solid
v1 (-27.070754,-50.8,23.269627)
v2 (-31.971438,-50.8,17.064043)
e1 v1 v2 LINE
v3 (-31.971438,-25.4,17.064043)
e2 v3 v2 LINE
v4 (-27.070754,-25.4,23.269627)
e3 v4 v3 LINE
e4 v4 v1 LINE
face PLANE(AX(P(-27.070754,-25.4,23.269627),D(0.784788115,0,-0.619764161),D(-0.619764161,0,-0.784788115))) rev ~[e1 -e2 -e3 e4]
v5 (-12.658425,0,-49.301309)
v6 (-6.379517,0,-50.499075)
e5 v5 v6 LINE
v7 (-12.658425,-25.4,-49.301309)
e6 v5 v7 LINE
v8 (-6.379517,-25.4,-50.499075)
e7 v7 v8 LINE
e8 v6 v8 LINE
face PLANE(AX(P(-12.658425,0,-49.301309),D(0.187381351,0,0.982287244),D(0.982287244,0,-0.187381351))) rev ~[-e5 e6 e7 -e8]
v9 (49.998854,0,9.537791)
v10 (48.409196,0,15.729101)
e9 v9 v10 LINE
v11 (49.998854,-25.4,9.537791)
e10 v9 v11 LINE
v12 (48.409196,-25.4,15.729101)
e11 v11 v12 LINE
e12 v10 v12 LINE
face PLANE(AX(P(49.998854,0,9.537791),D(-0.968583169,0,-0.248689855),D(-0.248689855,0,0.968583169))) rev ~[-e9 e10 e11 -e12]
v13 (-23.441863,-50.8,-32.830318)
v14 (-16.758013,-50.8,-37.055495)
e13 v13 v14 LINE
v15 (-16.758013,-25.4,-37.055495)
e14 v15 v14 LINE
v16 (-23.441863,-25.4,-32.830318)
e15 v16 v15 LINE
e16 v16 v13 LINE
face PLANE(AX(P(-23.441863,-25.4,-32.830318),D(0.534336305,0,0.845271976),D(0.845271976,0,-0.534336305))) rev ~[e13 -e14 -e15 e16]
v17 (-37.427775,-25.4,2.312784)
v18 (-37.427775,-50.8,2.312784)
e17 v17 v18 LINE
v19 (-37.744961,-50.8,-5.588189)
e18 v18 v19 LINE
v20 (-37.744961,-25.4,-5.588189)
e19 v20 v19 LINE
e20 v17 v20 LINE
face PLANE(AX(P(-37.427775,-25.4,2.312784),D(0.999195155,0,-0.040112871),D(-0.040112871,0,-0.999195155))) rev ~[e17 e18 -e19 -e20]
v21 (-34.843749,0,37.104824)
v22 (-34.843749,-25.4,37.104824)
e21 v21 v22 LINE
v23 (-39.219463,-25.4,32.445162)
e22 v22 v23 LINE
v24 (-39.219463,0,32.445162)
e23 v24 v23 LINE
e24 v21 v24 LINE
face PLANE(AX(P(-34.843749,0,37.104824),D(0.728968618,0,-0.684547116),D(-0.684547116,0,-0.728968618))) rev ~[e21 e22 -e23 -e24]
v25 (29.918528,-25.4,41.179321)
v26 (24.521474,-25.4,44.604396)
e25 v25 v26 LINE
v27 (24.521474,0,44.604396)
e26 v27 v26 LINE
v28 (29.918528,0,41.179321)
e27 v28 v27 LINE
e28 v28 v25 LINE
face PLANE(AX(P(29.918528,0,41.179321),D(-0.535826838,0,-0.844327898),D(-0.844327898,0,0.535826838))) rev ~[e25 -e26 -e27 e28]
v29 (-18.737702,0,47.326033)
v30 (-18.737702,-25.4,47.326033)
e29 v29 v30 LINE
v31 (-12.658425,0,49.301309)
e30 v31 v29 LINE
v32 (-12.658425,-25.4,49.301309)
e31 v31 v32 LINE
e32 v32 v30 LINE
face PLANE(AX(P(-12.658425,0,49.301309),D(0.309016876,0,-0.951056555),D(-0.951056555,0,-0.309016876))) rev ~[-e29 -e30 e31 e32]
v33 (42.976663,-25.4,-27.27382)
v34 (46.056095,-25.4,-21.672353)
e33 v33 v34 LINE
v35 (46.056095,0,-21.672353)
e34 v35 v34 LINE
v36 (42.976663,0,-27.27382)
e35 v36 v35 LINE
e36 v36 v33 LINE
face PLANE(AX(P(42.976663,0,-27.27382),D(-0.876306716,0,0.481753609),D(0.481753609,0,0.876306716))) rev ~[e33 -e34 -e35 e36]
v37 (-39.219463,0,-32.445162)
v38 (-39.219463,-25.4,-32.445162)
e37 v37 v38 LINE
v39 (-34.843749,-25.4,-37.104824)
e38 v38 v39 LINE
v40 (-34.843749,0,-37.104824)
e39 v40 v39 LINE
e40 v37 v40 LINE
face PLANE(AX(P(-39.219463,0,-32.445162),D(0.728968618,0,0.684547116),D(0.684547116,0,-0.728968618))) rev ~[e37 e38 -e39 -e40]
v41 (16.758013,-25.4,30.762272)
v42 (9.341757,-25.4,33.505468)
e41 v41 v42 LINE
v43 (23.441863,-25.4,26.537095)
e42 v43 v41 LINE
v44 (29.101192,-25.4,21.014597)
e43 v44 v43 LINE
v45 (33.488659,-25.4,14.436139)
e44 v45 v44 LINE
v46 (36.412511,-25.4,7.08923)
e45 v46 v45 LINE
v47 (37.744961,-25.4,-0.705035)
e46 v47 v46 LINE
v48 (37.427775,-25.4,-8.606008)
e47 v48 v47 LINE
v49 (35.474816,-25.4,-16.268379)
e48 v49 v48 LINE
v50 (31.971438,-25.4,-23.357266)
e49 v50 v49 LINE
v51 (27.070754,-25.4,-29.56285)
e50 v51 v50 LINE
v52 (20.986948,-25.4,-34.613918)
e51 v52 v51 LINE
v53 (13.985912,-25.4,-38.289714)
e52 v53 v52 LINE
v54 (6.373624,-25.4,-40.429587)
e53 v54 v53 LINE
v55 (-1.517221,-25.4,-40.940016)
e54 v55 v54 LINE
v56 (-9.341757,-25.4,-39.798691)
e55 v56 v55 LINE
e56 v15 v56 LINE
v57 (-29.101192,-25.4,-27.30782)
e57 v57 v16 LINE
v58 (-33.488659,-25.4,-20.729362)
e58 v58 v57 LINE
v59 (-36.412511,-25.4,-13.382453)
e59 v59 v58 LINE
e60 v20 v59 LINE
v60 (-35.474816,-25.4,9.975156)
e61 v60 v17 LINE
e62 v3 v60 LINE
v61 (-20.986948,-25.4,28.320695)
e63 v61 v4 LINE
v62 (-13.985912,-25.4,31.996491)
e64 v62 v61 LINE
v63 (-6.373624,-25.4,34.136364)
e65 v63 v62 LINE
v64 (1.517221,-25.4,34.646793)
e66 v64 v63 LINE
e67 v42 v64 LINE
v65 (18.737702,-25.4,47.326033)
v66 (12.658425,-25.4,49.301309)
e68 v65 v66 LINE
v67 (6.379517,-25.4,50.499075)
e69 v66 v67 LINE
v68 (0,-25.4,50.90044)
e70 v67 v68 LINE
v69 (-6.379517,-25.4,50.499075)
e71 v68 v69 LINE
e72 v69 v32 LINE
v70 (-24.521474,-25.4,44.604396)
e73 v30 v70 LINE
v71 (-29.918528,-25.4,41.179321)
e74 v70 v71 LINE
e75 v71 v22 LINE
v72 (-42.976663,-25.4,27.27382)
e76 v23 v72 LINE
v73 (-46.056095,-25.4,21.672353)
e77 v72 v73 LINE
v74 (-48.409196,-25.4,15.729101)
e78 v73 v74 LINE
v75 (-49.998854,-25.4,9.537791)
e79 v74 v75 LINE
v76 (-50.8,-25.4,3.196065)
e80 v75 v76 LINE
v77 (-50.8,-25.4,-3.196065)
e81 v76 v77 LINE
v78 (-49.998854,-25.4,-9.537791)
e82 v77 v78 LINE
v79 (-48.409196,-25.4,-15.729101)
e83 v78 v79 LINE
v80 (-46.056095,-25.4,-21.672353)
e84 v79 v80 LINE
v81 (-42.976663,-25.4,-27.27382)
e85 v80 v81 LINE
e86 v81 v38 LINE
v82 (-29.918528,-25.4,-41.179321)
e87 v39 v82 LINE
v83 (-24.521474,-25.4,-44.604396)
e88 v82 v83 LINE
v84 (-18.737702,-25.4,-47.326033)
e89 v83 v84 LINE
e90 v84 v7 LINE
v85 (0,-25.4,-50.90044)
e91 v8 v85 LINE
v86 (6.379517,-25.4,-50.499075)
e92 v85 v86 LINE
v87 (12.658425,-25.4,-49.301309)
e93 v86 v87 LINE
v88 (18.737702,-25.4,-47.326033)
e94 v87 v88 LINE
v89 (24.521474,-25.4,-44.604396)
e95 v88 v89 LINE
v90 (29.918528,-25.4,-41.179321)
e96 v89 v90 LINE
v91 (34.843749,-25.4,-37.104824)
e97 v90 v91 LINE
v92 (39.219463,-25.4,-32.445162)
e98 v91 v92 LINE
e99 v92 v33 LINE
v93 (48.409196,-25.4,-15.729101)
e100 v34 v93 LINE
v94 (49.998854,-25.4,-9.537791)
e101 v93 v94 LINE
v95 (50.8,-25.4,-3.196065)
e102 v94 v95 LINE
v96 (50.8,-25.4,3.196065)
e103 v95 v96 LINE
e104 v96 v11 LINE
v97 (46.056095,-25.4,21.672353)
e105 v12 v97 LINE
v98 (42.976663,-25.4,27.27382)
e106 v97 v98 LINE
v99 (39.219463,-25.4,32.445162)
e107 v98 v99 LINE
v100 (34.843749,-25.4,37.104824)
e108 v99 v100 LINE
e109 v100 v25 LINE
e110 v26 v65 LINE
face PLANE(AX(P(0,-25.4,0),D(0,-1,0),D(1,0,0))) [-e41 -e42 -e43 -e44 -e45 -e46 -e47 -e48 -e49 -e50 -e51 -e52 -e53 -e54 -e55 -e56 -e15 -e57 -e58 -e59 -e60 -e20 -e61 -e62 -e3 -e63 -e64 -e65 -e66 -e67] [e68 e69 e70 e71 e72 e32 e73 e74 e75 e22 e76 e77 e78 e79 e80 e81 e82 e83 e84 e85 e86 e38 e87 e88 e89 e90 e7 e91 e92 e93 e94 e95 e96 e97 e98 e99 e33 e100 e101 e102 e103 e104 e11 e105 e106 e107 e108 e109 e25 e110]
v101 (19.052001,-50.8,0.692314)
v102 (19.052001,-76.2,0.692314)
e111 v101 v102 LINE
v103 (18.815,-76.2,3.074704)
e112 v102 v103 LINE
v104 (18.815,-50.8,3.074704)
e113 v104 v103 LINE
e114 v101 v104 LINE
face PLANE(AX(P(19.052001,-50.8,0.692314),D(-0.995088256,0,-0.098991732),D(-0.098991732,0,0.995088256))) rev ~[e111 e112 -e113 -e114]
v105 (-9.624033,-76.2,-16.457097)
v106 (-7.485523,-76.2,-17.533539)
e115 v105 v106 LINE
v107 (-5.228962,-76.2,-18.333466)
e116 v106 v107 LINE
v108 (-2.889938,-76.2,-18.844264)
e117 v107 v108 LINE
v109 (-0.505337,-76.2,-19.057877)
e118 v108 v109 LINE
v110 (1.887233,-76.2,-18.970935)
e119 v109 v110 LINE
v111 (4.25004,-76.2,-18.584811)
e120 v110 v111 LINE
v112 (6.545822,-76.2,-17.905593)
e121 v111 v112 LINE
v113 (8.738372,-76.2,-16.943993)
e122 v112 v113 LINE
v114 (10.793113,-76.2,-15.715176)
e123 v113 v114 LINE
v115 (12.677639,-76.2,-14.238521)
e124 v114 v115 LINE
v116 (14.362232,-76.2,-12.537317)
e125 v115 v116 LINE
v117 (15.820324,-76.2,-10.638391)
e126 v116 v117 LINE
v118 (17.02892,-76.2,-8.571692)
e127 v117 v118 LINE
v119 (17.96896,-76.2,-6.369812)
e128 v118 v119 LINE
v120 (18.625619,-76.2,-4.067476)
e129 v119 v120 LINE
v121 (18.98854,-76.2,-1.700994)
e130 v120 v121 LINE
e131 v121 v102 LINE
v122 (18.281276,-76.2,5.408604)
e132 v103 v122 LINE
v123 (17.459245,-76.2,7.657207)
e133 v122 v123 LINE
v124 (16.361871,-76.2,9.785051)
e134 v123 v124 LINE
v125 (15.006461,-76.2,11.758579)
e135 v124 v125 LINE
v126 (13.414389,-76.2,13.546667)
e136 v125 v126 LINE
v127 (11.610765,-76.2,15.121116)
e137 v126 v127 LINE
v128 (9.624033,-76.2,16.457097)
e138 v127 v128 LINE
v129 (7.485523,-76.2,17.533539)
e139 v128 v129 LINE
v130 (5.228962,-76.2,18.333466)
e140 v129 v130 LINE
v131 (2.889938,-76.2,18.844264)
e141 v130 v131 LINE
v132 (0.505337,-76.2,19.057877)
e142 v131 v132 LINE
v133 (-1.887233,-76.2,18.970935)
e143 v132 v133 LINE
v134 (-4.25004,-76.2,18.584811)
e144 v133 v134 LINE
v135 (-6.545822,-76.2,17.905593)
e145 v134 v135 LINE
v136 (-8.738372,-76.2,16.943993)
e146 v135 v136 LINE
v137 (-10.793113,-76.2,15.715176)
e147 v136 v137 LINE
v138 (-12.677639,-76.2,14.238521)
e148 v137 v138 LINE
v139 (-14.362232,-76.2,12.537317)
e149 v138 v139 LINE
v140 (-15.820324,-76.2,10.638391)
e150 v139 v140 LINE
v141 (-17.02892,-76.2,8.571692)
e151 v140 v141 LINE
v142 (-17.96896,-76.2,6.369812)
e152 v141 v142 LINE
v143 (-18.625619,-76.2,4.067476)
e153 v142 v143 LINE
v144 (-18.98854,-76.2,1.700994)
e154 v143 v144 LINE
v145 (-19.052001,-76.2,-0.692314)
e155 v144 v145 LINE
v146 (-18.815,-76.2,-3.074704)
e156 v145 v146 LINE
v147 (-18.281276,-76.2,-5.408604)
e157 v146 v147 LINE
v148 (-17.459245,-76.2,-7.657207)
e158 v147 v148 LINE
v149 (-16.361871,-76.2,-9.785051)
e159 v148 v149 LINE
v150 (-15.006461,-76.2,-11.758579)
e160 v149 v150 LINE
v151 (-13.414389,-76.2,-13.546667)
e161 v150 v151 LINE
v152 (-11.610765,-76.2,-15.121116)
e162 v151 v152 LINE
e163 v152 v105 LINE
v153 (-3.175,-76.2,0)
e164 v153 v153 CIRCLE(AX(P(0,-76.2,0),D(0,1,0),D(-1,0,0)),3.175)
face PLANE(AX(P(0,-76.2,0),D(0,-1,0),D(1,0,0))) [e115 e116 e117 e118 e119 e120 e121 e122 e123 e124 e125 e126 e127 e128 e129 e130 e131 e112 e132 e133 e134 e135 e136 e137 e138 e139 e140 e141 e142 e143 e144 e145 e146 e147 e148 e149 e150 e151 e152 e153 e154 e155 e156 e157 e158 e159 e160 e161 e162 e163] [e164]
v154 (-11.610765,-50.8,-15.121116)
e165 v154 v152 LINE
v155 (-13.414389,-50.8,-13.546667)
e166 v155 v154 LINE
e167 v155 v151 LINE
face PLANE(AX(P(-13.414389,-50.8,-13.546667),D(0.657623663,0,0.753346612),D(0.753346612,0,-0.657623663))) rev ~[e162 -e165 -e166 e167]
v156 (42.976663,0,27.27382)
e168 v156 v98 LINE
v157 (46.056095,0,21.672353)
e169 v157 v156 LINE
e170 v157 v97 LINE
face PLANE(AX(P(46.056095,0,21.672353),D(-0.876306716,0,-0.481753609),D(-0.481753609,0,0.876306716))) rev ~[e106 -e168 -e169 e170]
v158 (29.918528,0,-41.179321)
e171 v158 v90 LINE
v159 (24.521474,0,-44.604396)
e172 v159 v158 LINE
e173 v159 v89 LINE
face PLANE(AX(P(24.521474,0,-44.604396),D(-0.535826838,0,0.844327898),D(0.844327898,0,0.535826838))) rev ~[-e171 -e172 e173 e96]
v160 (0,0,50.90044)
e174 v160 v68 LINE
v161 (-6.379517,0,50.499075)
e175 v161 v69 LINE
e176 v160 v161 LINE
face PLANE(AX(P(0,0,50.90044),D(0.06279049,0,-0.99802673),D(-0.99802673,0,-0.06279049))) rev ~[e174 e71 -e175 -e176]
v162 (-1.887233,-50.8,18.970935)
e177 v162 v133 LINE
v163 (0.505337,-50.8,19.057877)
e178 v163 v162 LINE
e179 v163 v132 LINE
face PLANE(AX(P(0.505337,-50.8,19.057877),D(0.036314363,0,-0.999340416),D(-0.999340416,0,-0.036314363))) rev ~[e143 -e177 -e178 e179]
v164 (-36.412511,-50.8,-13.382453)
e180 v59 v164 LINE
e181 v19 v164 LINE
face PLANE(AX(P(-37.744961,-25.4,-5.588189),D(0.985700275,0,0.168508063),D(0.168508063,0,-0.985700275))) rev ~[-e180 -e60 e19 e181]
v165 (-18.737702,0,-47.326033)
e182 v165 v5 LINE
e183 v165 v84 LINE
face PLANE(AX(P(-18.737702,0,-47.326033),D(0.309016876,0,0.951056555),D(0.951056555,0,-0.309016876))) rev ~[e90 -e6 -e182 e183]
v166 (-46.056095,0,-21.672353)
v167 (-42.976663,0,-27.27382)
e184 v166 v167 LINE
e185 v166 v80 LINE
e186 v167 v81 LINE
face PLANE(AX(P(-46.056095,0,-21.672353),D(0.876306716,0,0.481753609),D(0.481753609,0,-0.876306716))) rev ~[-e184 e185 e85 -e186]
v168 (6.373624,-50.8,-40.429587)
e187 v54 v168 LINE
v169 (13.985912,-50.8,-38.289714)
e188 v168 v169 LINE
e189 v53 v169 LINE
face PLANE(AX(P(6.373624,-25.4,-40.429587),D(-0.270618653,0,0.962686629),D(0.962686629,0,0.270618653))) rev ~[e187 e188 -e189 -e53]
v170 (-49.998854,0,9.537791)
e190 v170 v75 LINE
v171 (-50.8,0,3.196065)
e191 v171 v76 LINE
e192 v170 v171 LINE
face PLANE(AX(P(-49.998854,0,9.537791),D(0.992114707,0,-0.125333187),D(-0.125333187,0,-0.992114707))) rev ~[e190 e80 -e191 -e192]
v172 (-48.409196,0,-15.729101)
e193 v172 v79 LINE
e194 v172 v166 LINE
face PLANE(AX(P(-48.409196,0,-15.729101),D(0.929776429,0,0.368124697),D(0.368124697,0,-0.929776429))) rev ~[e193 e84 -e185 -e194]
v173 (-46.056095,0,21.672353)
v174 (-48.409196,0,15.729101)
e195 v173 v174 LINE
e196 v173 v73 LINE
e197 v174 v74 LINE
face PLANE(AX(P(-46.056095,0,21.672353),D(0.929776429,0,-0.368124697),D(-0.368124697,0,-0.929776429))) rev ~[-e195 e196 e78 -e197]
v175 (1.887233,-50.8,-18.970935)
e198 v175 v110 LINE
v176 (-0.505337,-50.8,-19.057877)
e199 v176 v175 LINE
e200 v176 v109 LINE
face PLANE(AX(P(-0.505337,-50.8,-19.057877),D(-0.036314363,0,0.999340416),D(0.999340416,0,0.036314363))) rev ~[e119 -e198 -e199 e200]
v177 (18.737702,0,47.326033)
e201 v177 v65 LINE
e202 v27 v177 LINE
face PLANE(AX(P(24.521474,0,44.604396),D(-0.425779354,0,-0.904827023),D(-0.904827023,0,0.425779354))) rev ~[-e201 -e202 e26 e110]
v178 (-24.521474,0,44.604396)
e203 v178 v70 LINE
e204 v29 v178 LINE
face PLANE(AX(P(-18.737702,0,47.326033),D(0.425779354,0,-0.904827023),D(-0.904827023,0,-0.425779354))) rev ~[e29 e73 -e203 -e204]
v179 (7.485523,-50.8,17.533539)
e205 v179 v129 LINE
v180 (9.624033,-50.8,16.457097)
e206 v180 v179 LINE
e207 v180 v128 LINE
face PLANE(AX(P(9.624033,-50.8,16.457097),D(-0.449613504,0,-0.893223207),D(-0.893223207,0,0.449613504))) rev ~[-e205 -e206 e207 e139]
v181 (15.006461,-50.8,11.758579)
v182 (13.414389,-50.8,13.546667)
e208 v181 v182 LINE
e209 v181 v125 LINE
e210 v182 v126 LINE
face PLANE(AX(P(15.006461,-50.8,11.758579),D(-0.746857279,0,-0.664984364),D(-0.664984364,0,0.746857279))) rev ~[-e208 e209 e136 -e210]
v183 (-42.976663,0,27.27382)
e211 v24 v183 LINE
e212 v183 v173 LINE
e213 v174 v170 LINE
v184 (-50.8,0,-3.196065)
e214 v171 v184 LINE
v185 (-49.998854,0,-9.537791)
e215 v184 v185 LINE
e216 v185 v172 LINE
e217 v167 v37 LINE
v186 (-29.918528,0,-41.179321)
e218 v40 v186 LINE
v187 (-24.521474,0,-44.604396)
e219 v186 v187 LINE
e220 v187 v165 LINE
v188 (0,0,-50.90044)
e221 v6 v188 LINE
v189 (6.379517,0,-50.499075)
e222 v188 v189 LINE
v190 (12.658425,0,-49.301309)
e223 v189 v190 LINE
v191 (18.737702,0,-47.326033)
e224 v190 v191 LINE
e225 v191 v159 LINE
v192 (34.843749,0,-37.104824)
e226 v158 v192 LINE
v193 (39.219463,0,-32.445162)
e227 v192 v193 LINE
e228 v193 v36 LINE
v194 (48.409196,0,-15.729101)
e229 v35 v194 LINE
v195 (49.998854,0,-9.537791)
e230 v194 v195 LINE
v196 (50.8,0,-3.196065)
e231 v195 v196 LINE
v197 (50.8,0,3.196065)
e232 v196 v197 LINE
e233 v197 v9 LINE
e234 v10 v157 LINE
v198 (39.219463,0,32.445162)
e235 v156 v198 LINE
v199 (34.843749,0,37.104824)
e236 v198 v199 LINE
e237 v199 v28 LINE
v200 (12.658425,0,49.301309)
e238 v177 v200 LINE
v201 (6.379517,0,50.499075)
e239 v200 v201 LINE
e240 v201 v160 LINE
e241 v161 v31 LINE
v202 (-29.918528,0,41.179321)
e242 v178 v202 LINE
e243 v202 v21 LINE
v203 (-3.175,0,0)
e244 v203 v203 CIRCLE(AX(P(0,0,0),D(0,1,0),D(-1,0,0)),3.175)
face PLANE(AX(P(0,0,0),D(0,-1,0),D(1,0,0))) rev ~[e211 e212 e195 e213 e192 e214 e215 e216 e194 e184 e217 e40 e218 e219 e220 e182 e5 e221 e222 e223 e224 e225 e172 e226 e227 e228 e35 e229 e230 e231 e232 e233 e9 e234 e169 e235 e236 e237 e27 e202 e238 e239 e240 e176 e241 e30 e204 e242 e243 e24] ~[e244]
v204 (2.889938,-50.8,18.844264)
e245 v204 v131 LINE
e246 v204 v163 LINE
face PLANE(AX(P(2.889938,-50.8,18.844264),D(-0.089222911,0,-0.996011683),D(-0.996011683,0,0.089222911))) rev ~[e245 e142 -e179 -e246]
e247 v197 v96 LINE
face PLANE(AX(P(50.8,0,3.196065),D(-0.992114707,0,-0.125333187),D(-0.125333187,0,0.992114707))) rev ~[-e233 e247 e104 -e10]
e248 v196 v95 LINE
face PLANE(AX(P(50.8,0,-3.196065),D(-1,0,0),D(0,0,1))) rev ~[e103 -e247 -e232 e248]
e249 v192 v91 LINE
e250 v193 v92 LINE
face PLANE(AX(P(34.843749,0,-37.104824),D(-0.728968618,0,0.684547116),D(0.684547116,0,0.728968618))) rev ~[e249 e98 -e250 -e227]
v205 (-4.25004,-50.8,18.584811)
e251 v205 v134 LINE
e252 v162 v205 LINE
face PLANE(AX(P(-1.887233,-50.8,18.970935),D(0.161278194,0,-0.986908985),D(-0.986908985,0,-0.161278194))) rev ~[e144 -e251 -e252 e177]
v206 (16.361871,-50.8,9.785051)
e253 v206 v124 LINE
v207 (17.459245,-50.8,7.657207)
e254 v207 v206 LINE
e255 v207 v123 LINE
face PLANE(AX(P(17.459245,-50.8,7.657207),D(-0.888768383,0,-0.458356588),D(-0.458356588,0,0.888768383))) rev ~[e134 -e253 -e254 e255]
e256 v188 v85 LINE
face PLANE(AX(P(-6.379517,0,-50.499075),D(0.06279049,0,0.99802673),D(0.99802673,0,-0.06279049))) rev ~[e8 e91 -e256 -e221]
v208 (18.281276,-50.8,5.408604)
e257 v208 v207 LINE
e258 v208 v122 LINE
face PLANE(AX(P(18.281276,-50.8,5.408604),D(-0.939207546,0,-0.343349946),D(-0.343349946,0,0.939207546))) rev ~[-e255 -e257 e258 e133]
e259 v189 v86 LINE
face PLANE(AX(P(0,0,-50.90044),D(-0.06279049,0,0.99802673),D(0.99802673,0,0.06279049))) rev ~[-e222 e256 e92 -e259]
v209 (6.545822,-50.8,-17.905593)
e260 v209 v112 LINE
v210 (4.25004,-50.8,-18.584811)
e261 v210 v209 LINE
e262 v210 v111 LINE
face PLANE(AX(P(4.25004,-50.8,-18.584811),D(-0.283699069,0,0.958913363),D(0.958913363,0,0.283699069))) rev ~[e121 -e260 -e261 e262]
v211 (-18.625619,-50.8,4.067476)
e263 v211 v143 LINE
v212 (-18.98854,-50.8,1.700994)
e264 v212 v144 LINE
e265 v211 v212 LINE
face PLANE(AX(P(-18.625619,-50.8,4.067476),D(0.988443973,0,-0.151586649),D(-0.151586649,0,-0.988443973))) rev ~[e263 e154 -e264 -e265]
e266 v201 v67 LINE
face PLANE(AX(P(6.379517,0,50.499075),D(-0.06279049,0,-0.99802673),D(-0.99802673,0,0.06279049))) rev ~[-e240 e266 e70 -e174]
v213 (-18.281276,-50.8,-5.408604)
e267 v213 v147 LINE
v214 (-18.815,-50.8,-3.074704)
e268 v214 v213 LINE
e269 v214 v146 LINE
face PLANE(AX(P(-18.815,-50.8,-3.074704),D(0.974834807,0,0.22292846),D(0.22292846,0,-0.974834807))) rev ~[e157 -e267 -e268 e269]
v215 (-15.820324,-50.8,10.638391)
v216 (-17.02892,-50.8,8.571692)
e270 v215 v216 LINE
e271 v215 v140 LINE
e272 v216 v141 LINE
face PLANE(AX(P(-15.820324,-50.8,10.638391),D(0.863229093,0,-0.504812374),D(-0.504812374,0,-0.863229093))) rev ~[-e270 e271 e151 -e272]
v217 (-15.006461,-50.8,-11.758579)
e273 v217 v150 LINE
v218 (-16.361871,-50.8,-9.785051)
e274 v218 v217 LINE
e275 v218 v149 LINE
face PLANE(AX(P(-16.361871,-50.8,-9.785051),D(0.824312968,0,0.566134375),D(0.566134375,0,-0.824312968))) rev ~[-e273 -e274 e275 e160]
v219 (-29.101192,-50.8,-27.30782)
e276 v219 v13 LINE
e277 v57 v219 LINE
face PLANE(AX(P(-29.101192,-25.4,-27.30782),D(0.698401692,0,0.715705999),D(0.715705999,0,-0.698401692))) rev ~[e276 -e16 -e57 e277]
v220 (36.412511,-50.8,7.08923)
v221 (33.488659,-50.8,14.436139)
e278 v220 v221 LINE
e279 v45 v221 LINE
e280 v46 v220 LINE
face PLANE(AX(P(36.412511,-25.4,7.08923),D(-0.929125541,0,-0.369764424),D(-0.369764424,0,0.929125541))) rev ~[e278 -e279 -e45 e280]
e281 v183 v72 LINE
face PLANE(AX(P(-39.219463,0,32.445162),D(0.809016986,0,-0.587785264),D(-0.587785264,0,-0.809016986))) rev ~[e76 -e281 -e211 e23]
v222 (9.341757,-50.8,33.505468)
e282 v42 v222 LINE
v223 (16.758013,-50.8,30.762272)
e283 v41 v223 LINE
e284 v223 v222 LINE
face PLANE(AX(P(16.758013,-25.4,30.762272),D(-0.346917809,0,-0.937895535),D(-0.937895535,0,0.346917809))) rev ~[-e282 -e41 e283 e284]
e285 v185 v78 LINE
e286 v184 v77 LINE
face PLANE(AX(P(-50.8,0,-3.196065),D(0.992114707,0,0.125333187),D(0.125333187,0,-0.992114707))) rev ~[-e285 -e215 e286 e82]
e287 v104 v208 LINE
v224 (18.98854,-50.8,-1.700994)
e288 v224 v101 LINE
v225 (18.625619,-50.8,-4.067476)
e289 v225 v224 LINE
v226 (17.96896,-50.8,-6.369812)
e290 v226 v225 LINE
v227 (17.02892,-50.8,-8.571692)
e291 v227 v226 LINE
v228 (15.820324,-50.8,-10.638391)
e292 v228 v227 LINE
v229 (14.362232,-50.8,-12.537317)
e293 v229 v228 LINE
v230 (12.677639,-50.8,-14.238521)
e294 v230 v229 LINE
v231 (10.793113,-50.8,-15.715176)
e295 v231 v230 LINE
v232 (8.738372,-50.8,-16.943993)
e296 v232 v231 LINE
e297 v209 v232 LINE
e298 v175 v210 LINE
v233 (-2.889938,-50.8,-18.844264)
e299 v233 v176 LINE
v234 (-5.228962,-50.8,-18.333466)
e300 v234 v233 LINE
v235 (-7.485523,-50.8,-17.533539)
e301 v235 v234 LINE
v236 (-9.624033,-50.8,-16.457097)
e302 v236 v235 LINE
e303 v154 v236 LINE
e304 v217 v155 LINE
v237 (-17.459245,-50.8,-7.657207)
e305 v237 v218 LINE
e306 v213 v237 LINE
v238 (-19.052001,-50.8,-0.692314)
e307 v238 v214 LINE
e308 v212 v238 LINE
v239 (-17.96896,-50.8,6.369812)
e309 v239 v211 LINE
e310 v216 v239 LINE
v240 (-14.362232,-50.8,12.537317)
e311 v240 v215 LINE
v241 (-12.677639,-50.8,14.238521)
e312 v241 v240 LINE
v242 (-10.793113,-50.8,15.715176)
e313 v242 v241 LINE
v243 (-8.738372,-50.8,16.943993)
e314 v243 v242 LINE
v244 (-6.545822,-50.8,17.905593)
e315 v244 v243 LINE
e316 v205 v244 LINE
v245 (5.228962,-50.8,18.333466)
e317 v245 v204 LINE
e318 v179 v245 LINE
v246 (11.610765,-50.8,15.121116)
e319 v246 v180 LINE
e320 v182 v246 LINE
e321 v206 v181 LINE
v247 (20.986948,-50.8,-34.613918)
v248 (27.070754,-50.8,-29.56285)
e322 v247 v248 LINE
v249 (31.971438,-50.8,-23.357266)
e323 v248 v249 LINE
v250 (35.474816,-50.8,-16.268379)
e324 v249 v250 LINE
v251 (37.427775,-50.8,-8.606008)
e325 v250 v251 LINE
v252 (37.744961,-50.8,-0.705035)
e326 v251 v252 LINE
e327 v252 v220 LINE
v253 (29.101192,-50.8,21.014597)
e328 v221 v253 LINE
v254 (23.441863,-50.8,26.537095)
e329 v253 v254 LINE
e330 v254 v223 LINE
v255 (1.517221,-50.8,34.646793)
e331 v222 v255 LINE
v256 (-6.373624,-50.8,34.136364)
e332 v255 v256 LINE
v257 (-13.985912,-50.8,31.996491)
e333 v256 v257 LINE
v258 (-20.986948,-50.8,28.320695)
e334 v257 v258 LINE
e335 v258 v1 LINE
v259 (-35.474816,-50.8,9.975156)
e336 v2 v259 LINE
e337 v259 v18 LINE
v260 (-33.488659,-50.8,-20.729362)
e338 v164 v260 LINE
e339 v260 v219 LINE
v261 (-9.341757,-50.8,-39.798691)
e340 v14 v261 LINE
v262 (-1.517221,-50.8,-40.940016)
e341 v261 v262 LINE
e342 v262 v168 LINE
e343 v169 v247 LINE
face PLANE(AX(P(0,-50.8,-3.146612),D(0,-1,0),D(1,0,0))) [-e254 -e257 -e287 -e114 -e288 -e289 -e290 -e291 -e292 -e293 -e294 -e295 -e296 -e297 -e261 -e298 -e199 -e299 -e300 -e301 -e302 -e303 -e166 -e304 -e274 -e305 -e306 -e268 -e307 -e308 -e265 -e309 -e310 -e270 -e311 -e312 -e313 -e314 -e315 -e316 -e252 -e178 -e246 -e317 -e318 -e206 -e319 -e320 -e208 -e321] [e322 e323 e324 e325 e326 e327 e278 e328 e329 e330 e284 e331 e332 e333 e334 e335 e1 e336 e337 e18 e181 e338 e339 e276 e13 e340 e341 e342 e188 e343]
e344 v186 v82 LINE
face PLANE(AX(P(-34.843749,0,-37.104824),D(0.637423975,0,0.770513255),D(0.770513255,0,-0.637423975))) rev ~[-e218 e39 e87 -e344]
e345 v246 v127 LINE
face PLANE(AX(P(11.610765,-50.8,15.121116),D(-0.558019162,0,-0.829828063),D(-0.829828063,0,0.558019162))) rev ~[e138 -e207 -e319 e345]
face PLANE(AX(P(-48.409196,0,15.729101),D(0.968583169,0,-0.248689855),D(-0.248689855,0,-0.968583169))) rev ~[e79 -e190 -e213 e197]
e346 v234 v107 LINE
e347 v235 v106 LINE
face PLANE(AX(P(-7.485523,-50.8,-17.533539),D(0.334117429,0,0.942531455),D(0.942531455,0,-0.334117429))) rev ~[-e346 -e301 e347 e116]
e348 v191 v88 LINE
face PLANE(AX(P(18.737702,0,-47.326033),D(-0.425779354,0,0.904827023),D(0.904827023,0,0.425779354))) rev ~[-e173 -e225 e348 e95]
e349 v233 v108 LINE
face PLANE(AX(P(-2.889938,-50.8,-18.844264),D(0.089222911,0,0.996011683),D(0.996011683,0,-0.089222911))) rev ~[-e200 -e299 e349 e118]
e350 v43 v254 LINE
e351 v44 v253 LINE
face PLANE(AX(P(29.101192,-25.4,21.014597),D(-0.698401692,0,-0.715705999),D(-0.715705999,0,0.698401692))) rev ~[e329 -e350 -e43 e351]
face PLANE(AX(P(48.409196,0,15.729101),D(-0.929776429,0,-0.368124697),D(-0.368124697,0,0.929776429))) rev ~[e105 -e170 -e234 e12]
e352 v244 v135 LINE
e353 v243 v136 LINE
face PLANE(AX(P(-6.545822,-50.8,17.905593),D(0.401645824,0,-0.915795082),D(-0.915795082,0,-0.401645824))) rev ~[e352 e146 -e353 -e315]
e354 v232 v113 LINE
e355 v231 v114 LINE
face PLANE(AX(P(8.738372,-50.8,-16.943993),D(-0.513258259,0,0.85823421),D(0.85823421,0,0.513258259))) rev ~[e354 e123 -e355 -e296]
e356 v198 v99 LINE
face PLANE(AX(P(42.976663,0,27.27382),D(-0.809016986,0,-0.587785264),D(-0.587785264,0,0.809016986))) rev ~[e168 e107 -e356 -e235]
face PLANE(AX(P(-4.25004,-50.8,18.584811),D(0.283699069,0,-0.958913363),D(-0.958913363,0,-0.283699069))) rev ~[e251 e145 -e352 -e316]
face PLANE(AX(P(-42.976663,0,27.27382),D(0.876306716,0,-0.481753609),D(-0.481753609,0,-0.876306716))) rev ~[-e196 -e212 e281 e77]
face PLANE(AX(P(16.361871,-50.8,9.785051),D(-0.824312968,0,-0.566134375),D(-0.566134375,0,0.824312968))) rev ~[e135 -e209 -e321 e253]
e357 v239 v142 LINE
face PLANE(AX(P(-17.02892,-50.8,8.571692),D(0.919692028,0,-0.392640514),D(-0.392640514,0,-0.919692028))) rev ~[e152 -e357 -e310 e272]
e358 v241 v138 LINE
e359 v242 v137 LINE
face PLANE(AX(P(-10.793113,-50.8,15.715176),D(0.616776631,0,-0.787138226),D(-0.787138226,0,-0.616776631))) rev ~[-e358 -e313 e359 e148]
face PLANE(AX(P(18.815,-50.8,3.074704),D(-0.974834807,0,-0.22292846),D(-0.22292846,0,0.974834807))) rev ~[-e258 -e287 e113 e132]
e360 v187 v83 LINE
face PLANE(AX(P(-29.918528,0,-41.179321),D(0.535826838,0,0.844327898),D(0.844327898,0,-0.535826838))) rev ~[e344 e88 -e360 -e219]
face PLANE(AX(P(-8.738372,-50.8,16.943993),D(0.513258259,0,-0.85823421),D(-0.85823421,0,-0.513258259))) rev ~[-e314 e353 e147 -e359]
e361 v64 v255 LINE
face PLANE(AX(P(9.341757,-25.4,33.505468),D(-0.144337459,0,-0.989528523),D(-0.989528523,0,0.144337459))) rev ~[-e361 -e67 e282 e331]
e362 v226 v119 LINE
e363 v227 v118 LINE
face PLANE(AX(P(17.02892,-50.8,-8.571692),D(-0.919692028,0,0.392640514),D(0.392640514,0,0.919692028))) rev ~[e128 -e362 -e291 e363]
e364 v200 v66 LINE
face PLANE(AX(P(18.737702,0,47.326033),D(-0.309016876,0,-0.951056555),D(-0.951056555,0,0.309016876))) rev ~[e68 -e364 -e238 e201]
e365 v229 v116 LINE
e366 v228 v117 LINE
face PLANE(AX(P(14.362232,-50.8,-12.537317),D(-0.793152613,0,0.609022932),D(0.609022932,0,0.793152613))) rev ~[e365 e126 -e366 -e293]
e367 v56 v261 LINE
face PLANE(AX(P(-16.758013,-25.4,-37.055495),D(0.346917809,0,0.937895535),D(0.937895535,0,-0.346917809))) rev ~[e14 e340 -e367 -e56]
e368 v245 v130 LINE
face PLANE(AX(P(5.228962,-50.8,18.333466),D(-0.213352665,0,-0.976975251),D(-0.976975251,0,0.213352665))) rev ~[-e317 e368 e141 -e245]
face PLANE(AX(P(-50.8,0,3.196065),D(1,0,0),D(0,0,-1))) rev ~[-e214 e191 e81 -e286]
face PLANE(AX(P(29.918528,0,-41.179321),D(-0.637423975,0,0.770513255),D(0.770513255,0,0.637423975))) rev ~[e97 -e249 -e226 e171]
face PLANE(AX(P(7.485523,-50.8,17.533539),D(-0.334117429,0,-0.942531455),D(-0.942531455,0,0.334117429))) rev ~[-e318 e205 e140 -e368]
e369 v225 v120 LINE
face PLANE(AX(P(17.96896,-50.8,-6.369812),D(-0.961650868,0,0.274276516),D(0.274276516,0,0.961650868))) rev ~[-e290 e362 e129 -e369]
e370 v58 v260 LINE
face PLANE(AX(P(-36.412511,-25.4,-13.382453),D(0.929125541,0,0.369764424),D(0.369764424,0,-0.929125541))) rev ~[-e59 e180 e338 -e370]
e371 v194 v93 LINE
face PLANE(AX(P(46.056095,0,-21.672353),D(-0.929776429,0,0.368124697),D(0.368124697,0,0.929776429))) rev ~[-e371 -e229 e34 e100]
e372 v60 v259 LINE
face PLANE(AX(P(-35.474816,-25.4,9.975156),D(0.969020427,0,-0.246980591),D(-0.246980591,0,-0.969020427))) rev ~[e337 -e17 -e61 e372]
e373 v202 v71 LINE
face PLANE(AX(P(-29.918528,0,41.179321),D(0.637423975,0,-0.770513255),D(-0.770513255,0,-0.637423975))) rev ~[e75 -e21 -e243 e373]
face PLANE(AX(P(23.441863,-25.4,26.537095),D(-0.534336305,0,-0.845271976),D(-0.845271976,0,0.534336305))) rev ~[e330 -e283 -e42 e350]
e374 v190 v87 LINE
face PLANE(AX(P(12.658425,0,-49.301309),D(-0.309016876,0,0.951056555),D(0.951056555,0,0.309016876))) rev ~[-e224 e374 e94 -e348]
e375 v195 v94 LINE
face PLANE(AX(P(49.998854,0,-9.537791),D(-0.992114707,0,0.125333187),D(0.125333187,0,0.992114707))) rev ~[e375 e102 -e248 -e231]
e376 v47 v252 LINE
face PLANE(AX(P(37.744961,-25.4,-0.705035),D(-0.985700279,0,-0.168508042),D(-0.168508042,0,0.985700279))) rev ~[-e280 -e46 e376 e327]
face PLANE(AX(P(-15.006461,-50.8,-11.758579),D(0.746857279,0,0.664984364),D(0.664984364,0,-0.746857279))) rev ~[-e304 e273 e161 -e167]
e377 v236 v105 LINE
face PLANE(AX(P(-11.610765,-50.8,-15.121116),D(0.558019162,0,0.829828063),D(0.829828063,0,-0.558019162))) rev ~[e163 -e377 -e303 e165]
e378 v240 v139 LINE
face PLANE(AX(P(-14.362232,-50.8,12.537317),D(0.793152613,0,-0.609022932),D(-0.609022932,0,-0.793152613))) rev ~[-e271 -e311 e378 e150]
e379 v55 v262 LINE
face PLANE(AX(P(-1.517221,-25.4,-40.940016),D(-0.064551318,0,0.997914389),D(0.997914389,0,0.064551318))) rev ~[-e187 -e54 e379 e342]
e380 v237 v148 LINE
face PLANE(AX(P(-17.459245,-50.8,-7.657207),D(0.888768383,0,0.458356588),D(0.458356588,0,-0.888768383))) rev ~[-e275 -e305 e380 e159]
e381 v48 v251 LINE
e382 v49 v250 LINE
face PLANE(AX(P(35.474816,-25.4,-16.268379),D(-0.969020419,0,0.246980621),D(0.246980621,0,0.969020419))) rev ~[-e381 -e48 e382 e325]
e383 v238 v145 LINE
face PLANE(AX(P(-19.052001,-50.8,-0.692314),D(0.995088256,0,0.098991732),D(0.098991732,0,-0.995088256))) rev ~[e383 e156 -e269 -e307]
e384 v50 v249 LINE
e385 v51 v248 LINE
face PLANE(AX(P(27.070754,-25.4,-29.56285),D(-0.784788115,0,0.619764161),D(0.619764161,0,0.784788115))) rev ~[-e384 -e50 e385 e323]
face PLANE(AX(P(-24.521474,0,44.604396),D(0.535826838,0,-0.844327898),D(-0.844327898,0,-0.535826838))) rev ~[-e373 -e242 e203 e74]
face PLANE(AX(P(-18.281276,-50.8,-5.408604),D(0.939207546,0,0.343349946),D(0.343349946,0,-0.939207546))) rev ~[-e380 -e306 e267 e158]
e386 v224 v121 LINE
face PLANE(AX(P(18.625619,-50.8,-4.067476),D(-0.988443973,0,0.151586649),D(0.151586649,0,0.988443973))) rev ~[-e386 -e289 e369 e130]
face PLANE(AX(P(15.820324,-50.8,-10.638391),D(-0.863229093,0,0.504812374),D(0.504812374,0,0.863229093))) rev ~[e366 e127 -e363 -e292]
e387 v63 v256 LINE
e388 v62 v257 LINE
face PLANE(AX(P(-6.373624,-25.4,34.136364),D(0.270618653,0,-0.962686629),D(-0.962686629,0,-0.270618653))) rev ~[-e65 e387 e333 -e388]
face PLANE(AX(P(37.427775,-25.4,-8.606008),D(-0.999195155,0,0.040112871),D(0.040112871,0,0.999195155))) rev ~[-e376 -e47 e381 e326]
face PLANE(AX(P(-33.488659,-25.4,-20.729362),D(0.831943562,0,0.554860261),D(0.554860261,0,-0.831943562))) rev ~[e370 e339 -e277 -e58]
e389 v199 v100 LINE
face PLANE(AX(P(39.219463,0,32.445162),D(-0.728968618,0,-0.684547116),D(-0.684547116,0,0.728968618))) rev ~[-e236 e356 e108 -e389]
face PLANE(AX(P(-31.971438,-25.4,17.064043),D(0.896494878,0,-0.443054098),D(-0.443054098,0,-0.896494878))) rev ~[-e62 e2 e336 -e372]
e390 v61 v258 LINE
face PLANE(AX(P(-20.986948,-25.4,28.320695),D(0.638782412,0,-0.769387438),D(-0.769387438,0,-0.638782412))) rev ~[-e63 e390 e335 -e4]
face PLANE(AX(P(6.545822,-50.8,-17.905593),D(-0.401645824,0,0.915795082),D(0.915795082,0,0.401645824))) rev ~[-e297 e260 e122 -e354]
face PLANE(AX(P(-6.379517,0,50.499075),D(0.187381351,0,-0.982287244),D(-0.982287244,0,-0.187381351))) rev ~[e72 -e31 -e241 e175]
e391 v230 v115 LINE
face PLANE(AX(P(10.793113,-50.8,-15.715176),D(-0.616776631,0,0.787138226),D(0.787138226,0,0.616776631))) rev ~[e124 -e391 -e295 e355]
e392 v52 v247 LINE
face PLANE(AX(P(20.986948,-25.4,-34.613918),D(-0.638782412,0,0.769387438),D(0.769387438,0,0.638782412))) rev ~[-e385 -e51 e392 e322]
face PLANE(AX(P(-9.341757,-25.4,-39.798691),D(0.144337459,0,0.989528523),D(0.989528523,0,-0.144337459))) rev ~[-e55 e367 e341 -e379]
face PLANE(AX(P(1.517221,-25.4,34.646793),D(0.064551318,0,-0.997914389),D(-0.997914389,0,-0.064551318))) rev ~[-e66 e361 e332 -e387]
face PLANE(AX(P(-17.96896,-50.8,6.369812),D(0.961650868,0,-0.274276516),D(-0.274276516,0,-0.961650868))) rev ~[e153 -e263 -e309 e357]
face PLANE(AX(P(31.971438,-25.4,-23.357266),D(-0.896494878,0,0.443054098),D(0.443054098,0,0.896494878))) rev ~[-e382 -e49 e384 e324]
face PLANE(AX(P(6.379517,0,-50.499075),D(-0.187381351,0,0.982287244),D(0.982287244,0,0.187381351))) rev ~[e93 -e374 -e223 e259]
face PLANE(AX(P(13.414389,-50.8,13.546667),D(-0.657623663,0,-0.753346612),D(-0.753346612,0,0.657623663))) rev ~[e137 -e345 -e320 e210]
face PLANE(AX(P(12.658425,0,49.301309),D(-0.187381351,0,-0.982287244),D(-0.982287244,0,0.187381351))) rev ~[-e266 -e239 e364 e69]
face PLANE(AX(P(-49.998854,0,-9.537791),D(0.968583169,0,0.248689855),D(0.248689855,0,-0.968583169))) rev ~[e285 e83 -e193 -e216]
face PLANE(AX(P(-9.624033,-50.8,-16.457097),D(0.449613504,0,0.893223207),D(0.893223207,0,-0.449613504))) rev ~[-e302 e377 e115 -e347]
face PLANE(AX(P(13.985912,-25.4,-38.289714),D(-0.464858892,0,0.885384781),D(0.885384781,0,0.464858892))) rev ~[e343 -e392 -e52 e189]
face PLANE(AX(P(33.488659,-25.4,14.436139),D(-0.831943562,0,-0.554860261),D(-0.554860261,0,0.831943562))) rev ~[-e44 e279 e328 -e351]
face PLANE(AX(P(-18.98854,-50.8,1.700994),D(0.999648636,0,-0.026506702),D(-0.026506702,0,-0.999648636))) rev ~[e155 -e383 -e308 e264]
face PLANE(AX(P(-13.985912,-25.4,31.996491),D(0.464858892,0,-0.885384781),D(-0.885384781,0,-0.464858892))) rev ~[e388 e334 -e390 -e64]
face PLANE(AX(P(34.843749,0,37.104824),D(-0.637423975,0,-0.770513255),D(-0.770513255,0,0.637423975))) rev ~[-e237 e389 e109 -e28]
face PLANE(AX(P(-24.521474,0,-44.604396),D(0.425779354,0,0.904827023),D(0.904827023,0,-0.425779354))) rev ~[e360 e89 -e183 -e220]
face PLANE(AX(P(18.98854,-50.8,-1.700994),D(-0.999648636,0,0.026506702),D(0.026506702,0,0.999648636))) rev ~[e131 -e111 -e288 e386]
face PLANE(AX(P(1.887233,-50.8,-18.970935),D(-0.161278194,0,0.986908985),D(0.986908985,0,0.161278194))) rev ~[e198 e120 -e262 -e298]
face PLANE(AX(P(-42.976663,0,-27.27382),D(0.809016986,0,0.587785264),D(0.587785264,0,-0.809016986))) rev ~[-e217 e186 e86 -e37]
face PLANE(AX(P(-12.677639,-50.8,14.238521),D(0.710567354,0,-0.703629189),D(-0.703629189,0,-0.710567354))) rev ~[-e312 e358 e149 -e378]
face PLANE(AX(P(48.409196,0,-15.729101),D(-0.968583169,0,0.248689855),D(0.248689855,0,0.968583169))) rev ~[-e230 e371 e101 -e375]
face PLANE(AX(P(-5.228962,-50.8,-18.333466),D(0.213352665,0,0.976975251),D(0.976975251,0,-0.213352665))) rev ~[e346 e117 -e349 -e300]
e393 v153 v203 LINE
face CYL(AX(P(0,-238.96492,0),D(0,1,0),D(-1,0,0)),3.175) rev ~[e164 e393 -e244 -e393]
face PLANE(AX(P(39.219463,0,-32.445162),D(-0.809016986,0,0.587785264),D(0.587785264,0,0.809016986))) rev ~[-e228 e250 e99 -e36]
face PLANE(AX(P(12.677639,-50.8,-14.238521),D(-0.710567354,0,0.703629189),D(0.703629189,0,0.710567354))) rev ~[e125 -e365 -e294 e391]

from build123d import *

# Parameters (mm, degrees)
F1_DEPTH = 25.4
F3_DEPTH = 25.4
F5_DEPTH = 25.4
F7_D     = 6.35


with BuildPart() as f1:
    # F0 (on Front) → F1 (new body)
    with BuildSketch(Plane.XZ):
        Polygon((50.8, -3.196065), (50.8, 3.196065), (49.998854, 9.537791), (48.409196, 15.729101), (46.056095, 21.672353), (42.976663, 27.27382), (39.219463, 32.445162), (34.843749, 37.104824), (29.918528, 41.179321), (24.521474, 44.604396), (18.737702, 47.326033), (12.658425, 49.301309), (6.379517, 50.499075), (0, 50.90044), (-6.379517, 50.499075), (-12.658425, 49.301309), (-18.737702, 47.326033), (-24.521474, 44.604396), (-29.918528, 41.179321), (-34.843749, 37.104824), (-39.219463, 32.445162), (-42.976663, 27.27382), (-46.056095, 21.672353), (-48.409196, 15.729101), (-49.998854, 9.537791), (-50.8, 3.196065), (-50.8, -3.196065), (-49.998854, -9.537791), (-48.409196, -15.729101), (-46.056095, -21.672353), (-42.976663, -27.27382), (-39.219463, -32.445162), (-34.843749, -37.104824), (-29.918528, -41.179321), (-24.521474, -44.604396), (-18.737702, -47.326033), (-12.658425, -49.301309), (-6.379517, -50.499075), (0, -50.90044), (6.379517, -50.499075), (12.658425, -49.301309), (18.737702, -47.326033), (24.521474, -44.604396), (29.918528, -41.179321), (34.843749, -37.104824), (39.219463, -32.445162), (42.976663, -27.27382), (46.056095, -21.672353), (48.409196, -15.729101), (49.998854, -9.537791), align=None)
    extrude(amount=F1_DEPTH)

    # F2 (on face) → F3 (join)
    with BuildSketch(Plane.XZ.offset(25.4)):
        Polygon((31.971438, -23.357266), (35.474816, -16.268379), (37.427775, -8.606008), (37.744961, -0.705035), (36.412511, 7.08923), (33.488659, 14.436139), (29.101192, 21.014597), (23.441863, 26.537095), (16.758013, 30.762272), (9.341757, 33.505468), (1.517221, 34.646793), (-6.373624, 34.136364), (-13.985912, 31.996491), (-20.986948, 28.320695), (-27.070754, 23.269627), (-31.971438, 17.064043), (-35.474816, 9.975156), (-37.427775, 2.312784), (-37.744961, -5.588189), (-36.412511, -13.382453), (-33.488659, -20.729362), (-29.101192, -27.30782), (-23.441863, -32.830318), (-16.758013, -37.055495), (-9.341757, -39.798691), (-1.517221, -40.940016), (6.373624, -40.429587), (13.985912, -38.289714), (20.986948, -34.613918), (27.070754, -29.56285), align=None)
    extrude(amount=F3_DEPTH)

    # F4 (on face) → F5 (join)
    with BuildSketch(Plane.XZ.offset(50.8)):
        Polygon((15.820324, -10.638391), (17.02892, -8.571692), (17.96896, -6.369812), (18.625619, -4.067476), (18.98854, -1.700994), (19.052001, 0.692314), (18.815, 3.074704), (18.281276, 5.408604), (17.459245, 7.657207), (16.361871, 9.785051), (15.006461, 11.758579), (13.414389, 13.546667), (11.610765, 15.121116), (9.624033, 16.457097), (7.485523, 17.533539), (5.228962, 18.333466), (2.889938, 18.844264), (0.505337, 19.057877), (-1.887233, 18.970935), (-4.25004, 18.584811), (-6.545822, 17.905593), (-8.738372, 16.943993), (-10.793113, 15.715176), (-12.677639, 14.238521), (-14.362232, 12.537317), (-15.820324, 10.638391), (-17.02892, 8.571692), (-17.96896, 6.369812), (-18.625619, 4.067476), (-18.98854, 1.700994), (-19.052001, -0.692314), (-18.815, -3.074704), (-18.281276, -5.408604), (-17.459245, -7.657207), (-16.361871, -9.785051), (-15.006461, -11.758579), (-13.414389, -13.546667), (-11.610765, -15.121116), (-9.624033, -16.457097), (-7.485523, -17.533539), (-5.228962, -18.333466), (-2.889938, -18.844264), (-0.505337, -19.057877), (1.887233, -18.970935), (4.25004, -18.584811), (6.545822, -17.905593), (8.738372, -16.943993), (10.793113, -15.715176), (12.677639, -14.238521), (14.362232, -12.537317), align=None)
    extrude(amount=F5_DEPTH)

    # F7 (through all)
    with Locations(Plane.XZ.offset(76.2)):
        with Locations((0, 0)):
            Hole(F7_D / 2)


solid = f1.part
